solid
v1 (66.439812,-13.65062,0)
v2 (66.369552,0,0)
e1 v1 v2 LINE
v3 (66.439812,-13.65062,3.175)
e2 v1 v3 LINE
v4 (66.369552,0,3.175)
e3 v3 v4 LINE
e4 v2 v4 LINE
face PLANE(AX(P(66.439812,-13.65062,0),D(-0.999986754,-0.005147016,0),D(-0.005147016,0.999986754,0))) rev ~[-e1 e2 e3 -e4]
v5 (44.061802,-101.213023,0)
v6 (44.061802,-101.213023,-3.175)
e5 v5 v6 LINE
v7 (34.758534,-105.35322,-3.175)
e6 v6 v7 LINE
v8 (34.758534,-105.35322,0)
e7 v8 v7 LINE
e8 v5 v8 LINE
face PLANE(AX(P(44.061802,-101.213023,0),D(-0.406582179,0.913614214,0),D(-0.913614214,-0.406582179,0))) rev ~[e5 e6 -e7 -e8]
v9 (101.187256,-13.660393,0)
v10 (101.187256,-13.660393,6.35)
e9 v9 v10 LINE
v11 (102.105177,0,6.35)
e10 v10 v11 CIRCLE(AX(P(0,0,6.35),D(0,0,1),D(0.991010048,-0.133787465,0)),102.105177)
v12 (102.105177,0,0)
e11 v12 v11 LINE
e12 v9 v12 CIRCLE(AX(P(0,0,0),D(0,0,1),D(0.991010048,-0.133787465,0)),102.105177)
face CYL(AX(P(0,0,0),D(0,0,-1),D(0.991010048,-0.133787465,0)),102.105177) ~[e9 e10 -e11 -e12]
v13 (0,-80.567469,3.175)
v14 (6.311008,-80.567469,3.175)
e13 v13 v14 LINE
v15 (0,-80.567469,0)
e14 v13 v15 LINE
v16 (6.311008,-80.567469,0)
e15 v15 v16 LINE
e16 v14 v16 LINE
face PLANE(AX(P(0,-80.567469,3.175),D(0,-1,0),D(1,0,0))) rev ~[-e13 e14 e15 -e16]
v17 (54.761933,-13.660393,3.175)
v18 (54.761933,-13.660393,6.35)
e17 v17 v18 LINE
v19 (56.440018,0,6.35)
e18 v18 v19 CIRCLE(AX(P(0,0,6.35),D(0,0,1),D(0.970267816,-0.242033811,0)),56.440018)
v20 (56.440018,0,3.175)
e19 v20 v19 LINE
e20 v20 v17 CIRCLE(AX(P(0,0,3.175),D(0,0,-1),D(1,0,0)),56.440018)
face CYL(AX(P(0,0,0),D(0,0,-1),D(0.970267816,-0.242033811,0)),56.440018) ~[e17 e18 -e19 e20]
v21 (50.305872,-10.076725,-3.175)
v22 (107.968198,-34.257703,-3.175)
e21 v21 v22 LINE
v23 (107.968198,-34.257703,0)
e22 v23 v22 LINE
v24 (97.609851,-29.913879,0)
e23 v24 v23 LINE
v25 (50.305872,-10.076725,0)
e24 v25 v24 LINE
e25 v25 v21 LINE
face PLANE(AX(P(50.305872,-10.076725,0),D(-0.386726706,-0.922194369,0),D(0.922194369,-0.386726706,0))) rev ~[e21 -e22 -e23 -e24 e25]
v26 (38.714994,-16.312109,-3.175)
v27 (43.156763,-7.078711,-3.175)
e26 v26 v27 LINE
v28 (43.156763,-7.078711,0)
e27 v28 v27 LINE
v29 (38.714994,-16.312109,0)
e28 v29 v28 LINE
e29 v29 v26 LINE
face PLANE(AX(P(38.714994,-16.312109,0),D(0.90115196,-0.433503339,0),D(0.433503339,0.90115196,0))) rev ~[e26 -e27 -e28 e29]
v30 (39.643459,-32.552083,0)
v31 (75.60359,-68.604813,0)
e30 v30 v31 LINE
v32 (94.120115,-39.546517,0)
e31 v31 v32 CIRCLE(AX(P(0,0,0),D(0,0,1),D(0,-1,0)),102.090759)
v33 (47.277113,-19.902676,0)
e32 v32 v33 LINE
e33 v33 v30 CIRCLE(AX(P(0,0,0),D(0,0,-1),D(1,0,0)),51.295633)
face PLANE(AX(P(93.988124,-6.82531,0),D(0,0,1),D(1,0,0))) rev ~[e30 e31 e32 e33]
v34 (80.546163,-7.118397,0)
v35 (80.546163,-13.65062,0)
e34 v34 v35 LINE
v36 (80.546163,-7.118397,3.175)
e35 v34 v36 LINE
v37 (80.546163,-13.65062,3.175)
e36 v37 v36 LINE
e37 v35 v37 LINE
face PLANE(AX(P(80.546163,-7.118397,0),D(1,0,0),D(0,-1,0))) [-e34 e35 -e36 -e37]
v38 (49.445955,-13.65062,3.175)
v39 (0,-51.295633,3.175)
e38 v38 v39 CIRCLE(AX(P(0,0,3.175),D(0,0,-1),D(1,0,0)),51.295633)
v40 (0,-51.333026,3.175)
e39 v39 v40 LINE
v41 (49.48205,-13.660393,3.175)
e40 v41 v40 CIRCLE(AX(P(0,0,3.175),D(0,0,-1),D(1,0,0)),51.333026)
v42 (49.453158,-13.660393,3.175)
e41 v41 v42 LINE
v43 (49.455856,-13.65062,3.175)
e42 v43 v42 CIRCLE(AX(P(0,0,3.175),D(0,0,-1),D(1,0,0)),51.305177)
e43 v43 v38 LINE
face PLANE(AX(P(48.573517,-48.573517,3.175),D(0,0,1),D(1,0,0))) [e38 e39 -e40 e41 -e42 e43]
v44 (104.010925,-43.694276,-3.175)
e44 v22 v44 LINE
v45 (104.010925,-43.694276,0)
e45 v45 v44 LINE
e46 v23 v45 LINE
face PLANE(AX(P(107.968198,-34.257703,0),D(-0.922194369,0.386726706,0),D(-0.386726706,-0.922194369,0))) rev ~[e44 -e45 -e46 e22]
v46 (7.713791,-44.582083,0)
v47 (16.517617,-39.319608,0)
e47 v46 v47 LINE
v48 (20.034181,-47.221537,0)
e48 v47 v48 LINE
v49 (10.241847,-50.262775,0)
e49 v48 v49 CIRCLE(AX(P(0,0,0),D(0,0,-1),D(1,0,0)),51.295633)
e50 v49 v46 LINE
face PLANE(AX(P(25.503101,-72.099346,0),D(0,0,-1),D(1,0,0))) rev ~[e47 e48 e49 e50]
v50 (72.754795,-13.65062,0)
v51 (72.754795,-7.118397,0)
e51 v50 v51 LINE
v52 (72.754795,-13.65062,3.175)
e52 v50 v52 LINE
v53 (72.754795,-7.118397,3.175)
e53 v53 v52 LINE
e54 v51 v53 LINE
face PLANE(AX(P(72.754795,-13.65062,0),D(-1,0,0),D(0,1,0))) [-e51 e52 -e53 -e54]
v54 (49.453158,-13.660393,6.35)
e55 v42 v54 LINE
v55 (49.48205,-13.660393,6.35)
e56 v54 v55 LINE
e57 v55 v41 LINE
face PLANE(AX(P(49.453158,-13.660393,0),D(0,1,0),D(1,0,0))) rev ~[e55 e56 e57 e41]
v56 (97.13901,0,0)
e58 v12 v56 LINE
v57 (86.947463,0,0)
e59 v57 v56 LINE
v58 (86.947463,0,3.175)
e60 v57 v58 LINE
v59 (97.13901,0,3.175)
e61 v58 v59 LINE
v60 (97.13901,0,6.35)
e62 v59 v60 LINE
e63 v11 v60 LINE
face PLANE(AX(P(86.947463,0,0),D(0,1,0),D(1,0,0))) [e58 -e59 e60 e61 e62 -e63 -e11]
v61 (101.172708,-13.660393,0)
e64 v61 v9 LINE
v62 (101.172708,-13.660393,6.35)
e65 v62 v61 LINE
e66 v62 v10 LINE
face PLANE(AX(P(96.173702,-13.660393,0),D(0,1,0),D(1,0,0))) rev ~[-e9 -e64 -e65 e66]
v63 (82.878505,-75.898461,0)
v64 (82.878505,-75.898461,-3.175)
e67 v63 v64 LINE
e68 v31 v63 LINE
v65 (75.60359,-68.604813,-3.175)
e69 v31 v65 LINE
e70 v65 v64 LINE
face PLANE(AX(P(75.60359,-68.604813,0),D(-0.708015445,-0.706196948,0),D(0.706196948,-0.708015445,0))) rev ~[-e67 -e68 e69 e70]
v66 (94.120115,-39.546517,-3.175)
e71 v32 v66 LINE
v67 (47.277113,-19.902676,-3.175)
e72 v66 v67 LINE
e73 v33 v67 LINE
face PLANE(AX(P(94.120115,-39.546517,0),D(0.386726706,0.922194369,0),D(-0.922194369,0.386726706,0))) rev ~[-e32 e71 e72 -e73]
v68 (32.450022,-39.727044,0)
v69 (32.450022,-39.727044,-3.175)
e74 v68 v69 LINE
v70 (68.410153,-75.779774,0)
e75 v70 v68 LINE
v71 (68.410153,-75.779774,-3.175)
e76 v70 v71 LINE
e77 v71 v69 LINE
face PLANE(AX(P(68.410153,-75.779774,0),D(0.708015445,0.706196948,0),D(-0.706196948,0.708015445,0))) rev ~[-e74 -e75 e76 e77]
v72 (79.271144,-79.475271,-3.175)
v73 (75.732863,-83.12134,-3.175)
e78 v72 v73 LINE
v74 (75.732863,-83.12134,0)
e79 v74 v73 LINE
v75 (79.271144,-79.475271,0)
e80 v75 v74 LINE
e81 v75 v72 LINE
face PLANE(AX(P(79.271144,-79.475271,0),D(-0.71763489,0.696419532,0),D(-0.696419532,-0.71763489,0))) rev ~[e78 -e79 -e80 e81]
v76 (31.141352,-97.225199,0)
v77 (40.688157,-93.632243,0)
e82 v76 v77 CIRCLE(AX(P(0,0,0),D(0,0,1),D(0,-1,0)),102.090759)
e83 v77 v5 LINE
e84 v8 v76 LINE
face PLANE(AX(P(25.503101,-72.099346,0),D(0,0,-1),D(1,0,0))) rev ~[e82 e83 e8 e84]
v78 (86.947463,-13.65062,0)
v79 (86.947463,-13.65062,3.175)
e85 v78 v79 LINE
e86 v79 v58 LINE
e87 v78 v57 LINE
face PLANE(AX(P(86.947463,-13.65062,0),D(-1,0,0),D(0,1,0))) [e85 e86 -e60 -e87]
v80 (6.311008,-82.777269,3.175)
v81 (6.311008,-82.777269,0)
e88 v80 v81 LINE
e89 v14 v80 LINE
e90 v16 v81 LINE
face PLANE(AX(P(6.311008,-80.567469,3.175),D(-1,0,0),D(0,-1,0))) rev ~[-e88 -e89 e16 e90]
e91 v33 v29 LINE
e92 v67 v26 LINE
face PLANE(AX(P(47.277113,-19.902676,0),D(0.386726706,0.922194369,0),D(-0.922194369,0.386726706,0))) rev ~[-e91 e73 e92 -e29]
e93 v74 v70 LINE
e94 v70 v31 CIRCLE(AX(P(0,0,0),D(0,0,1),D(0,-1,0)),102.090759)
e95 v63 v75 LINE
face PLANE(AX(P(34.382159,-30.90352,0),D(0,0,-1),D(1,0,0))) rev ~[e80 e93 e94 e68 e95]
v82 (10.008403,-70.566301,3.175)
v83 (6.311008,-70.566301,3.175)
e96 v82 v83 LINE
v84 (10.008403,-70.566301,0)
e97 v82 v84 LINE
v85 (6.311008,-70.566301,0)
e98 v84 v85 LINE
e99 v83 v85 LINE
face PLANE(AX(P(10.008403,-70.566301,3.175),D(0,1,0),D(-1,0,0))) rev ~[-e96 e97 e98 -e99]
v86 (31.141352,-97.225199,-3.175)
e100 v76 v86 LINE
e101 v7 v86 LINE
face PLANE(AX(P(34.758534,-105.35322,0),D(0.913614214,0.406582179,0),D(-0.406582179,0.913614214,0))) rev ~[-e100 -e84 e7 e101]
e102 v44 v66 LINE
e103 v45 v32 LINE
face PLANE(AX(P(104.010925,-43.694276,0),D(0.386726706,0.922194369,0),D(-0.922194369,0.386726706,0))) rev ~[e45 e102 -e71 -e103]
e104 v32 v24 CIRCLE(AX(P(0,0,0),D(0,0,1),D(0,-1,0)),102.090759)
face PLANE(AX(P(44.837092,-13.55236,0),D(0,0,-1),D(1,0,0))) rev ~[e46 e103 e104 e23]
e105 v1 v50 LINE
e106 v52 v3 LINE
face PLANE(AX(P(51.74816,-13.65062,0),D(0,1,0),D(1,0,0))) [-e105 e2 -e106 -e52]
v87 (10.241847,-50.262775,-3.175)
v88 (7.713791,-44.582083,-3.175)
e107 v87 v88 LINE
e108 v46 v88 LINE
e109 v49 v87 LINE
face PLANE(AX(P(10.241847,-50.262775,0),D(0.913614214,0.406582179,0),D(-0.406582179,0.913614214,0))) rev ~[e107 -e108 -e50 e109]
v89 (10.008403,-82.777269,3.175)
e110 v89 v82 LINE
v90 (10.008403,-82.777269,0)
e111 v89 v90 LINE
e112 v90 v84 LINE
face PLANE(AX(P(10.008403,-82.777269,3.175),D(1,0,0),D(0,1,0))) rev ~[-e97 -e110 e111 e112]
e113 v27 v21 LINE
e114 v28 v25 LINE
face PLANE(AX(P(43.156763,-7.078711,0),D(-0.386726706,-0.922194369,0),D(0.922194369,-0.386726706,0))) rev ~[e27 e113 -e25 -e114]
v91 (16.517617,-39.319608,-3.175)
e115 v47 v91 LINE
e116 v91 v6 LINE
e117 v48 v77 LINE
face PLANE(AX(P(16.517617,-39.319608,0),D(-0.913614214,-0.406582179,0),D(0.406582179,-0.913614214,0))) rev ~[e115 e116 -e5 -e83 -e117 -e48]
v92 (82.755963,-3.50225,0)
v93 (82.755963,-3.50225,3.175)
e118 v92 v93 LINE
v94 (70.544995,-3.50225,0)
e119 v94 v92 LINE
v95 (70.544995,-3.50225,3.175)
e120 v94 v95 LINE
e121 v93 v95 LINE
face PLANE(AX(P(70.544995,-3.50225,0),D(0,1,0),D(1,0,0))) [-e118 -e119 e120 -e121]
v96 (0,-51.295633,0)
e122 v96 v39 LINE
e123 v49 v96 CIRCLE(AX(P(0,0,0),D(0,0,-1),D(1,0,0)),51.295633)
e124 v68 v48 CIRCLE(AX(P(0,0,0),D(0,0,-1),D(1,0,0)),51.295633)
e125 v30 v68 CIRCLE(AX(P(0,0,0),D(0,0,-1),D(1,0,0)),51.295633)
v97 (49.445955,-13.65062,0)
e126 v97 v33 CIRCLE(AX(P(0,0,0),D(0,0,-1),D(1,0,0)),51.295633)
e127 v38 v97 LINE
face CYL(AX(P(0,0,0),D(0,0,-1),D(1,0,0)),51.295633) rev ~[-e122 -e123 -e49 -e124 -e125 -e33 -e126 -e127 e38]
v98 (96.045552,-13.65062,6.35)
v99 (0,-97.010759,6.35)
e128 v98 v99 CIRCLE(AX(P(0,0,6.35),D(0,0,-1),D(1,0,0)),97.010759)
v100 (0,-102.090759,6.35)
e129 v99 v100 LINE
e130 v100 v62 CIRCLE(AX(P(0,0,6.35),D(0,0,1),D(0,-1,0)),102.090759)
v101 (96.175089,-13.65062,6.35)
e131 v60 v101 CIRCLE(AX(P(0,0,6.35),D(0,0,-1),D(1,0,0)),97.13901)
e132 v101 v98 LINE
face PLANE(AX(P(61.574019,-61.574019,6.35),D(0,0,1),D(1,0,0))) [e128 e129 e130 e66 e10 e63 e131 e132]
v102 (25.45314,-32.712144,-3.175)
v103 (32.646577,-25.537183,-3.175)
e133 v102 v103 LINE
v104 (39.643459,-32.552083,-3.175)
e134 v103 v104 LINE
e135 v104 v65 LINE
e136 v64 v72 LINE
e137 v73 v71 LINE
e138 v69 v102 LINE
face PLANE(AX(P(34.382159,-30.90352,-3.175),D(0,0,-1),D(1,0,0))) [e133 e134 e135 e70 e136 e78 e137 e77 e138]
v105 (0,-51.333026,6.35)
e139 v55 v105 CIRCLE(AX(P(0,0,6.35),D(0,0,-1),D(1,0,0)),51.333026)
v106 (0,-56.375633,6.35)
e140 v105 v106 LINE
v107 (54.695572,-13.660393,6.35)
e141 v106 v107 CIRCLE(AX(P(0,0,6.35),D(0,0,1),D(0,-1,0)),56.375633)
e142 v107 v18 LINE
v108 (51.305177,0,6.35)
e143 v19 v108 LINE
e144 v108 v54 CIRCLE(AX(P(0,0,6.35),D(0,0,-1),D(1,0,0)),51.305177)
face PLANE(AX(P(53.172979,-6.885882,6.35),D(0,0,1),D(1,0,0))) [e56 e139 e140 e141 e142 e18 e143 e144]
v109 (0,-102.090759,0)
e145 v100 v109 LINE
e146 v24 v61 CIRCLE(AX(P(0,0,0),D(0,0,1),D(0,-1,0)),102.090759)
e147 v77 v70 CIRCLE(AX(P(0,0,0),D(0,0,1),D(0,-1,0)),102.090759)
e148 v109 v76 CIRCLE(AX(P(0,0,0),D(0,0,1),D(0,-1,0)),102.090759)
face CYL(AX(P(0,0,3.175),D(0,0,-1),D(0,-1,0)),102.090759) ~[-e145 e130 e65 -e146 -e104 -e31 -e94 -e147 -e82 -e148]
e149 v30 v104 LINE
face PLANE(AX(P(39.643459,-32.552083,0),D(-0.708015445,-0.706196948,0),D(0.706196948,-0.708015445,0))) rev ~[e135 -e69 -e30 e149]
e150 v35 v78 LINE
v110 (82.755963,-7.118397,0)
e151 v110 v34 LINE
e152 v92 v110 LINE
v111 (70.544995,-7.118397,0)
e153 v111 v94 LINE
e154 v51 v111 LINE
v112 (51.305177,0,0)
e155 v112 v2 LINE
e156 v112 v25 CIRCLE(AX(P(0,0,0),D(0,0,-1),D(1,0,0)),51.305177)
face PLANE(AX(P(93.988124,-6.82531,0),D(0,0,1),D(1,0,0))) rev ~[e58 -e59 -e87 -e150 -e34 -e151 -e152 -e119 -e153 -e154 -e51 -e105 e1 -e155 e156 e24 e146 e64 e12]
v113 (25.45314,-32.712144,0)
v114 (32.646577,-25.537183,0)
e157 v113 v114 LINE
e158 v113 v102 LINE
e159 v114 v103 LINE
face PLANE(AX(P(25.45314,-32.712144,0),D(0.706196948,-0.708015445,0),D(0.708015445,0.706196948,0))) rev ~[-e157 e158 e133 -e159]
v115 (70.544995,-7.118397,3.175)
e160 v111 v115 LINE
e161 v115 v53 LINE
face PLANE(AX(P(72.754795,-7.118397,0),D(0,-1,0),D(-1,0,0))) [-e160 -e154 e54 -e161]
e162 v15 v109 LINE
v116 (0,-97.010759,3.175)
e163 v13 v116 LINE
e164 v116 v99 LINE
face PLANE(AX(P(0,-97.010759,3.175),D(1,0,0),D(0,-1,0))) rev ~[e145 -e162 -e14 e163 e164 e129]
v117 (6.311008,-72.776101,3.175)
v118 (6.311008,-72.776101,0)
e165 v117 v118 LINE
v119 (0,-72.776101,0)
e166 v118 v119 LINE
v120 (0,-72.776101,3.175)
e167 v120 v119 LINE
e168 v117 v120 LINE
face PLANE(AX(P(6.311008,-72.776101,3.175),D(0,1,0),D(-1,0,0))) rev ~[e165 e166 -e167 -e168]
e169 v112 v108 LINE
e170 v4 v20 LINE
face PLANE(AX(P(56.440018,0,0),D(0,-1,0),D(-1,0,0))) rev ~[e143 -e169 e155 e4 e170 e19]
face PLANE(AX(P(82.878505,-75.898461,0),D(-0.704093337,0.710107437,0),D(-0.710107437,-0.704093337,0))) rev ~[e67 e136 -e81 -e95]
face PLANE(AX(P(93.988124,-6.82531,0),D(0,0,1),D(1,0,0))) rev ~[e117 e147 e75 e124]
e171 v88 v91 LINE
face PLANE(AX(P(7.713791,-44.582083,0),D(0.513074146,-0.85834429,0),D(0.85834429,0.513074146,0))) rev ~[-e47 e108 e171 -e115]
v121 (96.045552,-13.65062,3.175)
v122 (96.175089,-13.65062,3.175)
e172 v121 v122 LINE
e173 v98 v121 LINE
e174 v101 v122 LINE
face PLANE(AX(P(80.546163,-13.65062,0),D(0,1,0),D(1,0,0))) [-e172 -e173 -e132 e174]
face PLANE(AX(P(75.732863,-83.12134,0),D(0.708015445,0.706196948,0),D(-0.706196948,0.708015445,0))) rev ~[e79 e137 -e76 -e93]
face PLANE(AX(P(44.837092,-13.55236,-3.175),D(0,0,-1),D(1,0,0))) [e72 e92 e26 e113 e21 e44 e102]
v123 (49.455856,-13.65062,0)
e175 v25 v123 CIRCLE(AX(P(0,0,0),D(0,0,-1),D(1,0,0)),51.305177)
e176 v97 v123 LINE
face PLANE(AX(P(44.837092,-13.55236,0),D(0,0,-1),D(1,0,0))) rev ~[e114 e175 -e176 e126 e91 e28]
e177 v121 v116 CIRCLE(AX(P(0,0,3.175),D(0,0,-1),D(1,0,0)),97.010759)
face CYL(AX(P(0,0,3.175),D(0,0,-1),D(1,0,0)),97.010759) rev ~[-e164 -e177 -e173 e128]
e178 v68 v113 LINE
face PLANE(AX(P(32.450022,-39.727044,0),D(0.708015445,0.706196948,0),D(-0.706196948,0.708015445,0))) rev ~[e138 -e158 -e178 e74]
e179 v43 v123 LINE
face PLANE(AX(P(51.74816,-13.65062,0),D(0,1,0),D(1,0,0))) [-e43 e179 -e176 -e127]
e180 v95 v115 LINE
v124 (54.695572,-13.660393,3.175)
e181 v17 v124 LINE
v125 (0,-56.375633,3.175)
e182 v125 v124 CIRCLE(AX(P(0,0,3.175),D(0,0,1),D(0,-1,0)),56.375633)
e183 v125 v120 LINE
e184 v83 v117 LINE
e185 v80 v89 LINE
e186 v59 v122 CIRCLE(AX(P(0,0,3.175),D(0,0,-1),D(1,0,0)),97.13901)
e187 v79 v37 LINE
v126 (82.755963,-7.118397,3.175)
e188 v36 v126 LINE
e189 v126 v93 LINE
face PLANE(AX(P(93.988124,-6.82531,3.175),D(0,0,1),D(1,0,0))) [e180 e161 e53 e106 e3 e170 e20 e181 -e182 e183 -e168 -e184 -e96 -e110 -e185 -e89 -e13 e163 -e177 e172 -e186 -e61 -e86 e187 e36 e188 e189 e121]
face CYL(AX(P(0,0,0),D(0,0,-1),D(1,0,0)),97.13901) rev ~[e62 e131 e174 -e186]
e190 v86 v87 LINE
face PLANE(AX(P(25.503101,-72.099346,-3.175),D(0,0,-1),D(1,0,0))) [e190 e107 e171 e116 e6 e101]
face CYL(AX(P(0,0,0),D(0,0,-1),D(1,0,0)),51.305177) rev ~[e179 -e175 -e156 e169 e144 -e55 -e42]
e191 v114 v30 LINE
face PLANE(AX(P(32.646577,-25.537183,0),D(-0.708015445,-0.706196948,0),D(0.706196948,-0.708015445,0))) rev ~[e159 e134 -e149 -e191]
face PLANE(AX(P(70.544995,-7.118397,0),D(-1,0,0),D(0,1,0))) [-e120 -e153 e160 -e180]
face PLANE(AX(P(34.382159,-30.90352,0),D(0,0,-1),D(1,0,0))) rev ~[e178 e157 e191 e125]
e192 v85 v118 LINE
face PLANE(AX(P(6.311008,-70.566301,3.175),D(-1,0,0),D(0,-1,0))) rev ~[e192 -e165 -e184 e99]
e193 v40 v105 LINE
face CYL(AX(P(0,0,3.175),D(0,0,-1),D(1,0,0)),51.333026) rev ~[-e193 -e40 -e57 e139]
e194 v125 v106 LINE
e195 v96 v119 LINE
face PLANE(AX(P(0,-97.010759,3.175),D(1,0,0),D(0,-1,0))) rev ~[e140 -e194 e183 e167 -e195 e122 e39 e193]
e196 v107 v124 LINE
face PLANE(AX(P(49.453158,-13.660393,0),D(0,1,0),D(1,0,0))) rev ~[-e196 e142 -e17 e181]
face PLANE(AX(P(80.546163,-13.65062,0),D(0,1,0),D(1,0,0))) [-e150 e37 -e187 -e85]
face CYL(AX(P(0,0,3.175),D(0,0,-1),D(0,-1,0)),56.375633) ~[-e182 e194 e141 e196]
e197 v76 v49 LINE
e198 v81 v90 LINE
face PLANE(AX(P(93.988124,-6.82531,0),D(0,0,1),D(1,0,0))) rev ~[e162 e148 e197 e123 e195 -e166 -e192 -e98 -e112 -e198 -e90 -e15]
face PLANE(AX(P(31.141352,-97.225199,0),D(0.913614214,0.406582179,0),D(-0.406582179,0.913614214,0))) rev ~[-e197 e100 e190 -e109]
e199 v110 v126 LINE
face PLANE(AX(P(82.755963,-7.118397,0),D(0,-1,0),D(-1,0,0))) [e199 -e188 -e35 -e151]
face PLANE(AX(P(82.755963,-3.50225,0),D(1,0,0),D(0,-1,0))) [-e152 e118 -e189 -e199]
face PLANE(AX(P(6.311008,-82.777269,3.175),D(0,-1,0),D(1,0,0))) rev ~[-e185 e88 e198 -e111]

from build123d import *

# Parameters (mm, degrees)
F1_DEPTH  = 3.175
F2_W      = 14.0813224944
F2_H      = 13.6506203337
F3_DEPTH  = 3.175
F5_DEPTH  = 3.175
F2_W_2    = 4.1719265282
F6_DEPTH  = 25.4
F8_DEPTH  = 6.35
F9_DEPTH  = 3.175
F11_DEPTH = 25.4
F13_DEPTH = 3.175


with BuildPart() as f1:
    # F0 (on Top) → F1 (new body)
    with BuildSketch(Plane.XY):
        with BuildLine():
            Line((0, -51.2956328023), (0, -102.09075941))
            ThreePointArc((0, -102.09075941), (72.1890682753, -72.1890682753), (102.09075941, 0))
            Line((102.09075941, 0), (51.2956328023, 0))
            ThreePointArc((51.2956328023, 0), (36.2714897998, -36.2714897998), (0, -51.2956328023))
        make_face()
    extrude(amount=F1_DEPTH)

    # F2 (on Top) → F3 (join)
    with BuildSketch(Plane.XY):
        Polygon((70.5449951161, -7.1183972853), (72.7547951161, -7.1183972853), (72.7547951161, -13.6506203337), (80.5461628969, -13.6506203337), (80.5461628969, -7.1183972853), (82.7559628969, -7.1183972853), (82.7559628969, -3.5022496107), (70.5449951161, -3.5022496107), align=None)
        Polygon((51.7481602728, -13.6506203337), (66.4398123863, -13.6506203337), (66.3695515009, 0), (51.7481602728, 0), align=None)
        with Locations((93.9881238623, -6.8253101669)):
            Rectangle(F2_W, F2_H)
    extrude(amount=F3_DEPTH)

    # F4 (on face) → F5 (join)
    with BuildSketch(Plane.XY.offset(3.175)):
        with BuildLine():
            ThreePointArc((0, -56.3756328023), (39.8635922482, -39.8635922482), (56.3756328023, 0))
            Line((56.3756328023, 0), (51.3330261441, 0))
            ThreePointArc((51.3330261441, 0), (36.2979308853, -36.2979308853), (0, -51.3330261441))
            Line((0, -51.3330261441), (0, -56.3756328023))
        make_face()
        with BuildLine():
            Line((102.09075941, 0), (97.01075941, 0))
            ThreePointArc((97.01075941, 0), (68.5969658269, -68.5969658269), (0, -97.01075941))
            Line((0, -97.01075941), (0, -102.09075941))
            ThreePointArc((0, -102.09075941), (72.1890682753, -72.1890682753), (102.09075941, 0))
        make_face()
    extrude(amount=F5_DEPTH)

    # F2 (on Top) → F6 (cut)
    with BuildSketch(Plane.XY):
        Polygon((51.7481602728, -13.6506203337), (66.4398123863, -13.6506203337), (66.3695515009, 0), (51.7481602728, 0), align=None)
        Polygon((72.7547951161, -13.6506203337), (72.7547951161, -7.1183972853), (70.5449951161, -7.1183972853), (70.5449951161, -3.5022496107), (82.7559628969, -3.5022496107), (82.7559628969, -7.1183972853), (80.5461628969, -7.1183972853), (80.5461628969, -13.6506203337), (86.9474626151, -13.6506203337), (86.9474626151, 0), (76.6565515009, 0), (66.3695515009, 0), (66.4398123863, -13.6506203337), align=None)
        with Locations((93.9881238623, -6.8253101669)):
            Rectangle(F2_W, F2_H)
        with Locations((49.6621970087, -6.8253101669)):
            Rectangle(F2_W_2, F2_H)
    extrude(amount=F6_DEPTH, mode=Mode.SUBTRACT)

    # F7 (on Top) → F8 (join)
    with BuildSketch(Plane.XY):
        with BuildLine():
            ThreePointArc((54.7619331998, -13.660392724), (56.0189261095, -6.8815386855), (56.4400182242, 0))
            Line((56.4400182242, 0), (51.3051767249, 0))
            ThreePointArc((51.3051767249, 0), (50.8400637591, -6.8926827684), (49.4531579316, -13.660392724))
            Line((49.4531579316, -13.660392724), (54.7619331998, -13.660392724))
        make_face()
        with BuildLine():
            Line((102.1051767249, 0), (97.1390098326, 0))
            ThreePointArc((97.1390098326, 0), (96.8973822865, -6.8472284381), (96.1737017167, -13.660392724))
            Line((96.1737017167, -13.660392724), (101.1872560388, -13.660392724))
            ThreePointArc((101.1872560388, -13.660392724), (101.8754380952, -6.8455990928), (102.1051767249, 0))
        make_face()
    extrude(amount=F8_DEPTH)

    # F2 (on Top) → F9 (join)
    with BuildSketch(Plane.XY):
        with Locations((93.9881238623, -6.8253101669)):
            Rectangle(F2_W, F2_H)
        Polygon((51.7481602728, -13.6506203337), (66.4398123863, -13.6506203337), (66.3695515009, 0), (51.7481602728, 0), align=None)
    extrude(amount=F9_DEPTH)

    # F10 (on face) → F11 (cut)
    with BuildSketch(Plane.XY.offset(3.175)):
        Polygon((6.3110076786, -72.776100911), (0, -72.776100911), (0, -80.5674686917), (6.3110076786, -80.5674686917), (6.3110076786, -82.7772686917), (10.0084030033, -82.7772686917), (10.0084030033, -70.566300911), (6.3110076786, -70.566300911), align=None)
    extrude(amount=-F11_DEPTH, mode=Mode.SUBTRACT)

    # F12 (on face) → F13 (join)
    with BuildSketch(Plane(origin=(0, 0, 0), x_dir=(1, 0, 0), z_dir=(0, 0, -1))):
        with BuildLine():
            ThreePointArc((39.6434592285, 32.5520826521), (37.980845771, 34.4774897449), (36.2248193412, 36.3181002847))
            Line((36.2248193412, 36.3181002847), (29.0498583475, 29.1246633635))
            Line((29.0498583475, 29.1246633635), (32.646576808, 25.5371828667))
            Line((32.646576808, 25.5371828667), (39.6434592285, 32.5520826521))
        make_face()
        with BuildLine():
            Line((29.0498583475, 29.1246633635), (36.2248193412, 36.3181002847))
            ThreePointArc((36.2248193412, 36.3181002847), (34.3796988436, 38.0693873344), (32.4500223073, 39.7270436459))
            Line((32.4500223073, 39.7270436459), (25.4531398869, 32.7121438604))
            Line((25.4531398869, 32.7121438604), (29.0498583475, 29.1246633635))
        make_face()
        with BuildLine():
            Line((36.2248193412, 36.3181002847), (72.0961827352, 72.2818344532))
            ThreePointArc((72.0961827352, 72.2818344532), (70.2749350461, 74.0537417095), (68.4101530773, 75.7797737714))
            Line((68.4101530773, 75.7797737714), (32.4500223073, 39.7270436459))
            ThreePointArc((32.4500223073, 39.7270436459), (34.3796988436, 38.0693873344), (36.2248193412, 36.3181002847))
        make_face()
        with BuildLine():
            ThreePointArc((75.6035899985, 68.6048127777), (73.8727679087, 70.4651496728), (72.0961827352, 72.2818344532))
            Line((72.0961827352, 72.2818344532), (36.2248193412, 36.3181002847))
            ThreePointArc((36.2248193412, 36.3181002847), (37.980845771, 34.4774897449), (39.6434592285, 32.5520826521))
            Line((39.6434592285, 32.5520826521), (75.6035899985, 68.6048127777))
        make_face()
        with BuildLine():
            Line((79.271143729, 79.4752713743), (72.0961827352, 72.2818344532))
            ThreePointArc((72.0961827352, 72.2818344532), (73.8727679087, 70.4651496728), (75.6035899985, 68.6048127777))
            Line((75.6035899985, 68.6048127777), (82.8785053866, 75.8984614814))
            Line((82.8785053866, 75.8984614814), (79.271143729, 79.4752713743))
        make_face()
        with BuildLine():
            ThreePointArc((68.4101530773, 75.7797737714), (70.2749350461, 74.0537417095), (72.0961827352, 72.2818344532))
            Line((72.0961827352, 72.2818344532), (79.271143729, 79.4752713743))
            Line((79.271143729, 79.4752713743), (75.7328631666, 83.1213402502))
            Line((75.7328631666, 83.1213402502), (68.4101530773, 75.7797737714))
        make_face()
        with BuildLine():
            Line((20.0341812257, 47.2215366883), (40.6881574418, 93.6322433828))
            ThreePointArc((40.6881574418, 93.6322433828), (35.9596571955, 95.5480309127), (31.1413521737, 97.2251991086))
            Line((31.1413521737, 97.2251991086), (10.2418471319, 50.2627746142))
            ThreePointArc((10.2418471319, 50.2627746142), (15.2141958482, 48.9874493037), (20.0341812257, 47.2215366883))
        make_face()
        with BuildLine():
            ThreePointArc((31.1413521737, 97.2251991086), (35.9596571955, 95.5480309127), (40.6881574418, 93.6322433828))
            Line((40.6881574418, 93.6322433828), (44.0618023276, 101.2130230665))
            Line((44.0618023276, 101.2130230665), (34.7585338749, 105.353220427))
            Line((34.7585338749, 105.353220427), (31.1413521737, 97.2251991086))
        make_face()
        with BuildLine():
            Line((16.5176168084, 39.3196083605), (20.0341812257, 47.2215366883))
            ThreePointArc((20.0341812257, 47.2215366883), (15.2141958482, 48.9874493037), (10.2418471319, 50.2627746142))
            Line((10.2418471319, 50.2627746142), (7.7137911807, 44.5820833017))
            Line((7.7137911807, 44.5820833017), (16.5176168084, 39.3196083605))
        make_face()
        with BuildLine():
            ThreePointArc((49.4459554372, 13.6506203337), (48.462460254, 16.8116593685), (47.2771132537, 19.902675875))
            Line((47.2771132537, 19.902675875), (38.7149937451, 16.3121093065))
            Line((38.7149937451, 16.3121093065), (43.1567628434, 7.0787111473))
            Line((43.1567628434, 7.0787111473), (50.3058721439, 10.0767249947))
            ThreePointArc((50.3058721439, 10.0767249947), (49.9128620494, 11.8712830314), (49.4558563093, 13.6506203337))
            Line((49.4558563093, 13.6506203337), (49.4459554372, 13.6506203337))
        make_face()
        with BuildLine():
            ThreePointArc((97.6098508897, 29.9138791566), (95.9858944102, 34.7740022313), (94.1201154327, 39.5465172658))
            Line((94.1201154327, 39.5465172658), (47.2771132537, 19.902675875))
            ThreePointArc((47.2771132537, 19.902675875), (48.462460254, 16.8116593685), (49.4459554372, 13.6506203337))
            Line((49.4459554372, 13.6506203337), (49.4558563093, 13.6506203337))
            ThreePointArc((49.4558563093, 13.6506203337), (49.9128620494, 11.8712830314), (50.3058721439, 10.0767249947))
            Line((50.3058721439, 10.0767249947), (97.6098508897, 29.9138791566))
        make_face()
        with BuildLine():
            Line((104.0109246969, 43.6942763627), (94.1201154327, 39.5465172658))
            ThreePointArc((94.1201154327, 39.5465172658), (95.9858944102, 34.7740022313), (97.6098508897, 29.9138791566))
            Line((97.6098508897, 29.9138791566), (107.9681979582, 34.2577025116))
            Line((107.9681979582, 34.2577025116), (104.0109246969, 43.6942763627))
        make_face()
    extrude(amount=F13_DEPTH)


solid = f1.part
